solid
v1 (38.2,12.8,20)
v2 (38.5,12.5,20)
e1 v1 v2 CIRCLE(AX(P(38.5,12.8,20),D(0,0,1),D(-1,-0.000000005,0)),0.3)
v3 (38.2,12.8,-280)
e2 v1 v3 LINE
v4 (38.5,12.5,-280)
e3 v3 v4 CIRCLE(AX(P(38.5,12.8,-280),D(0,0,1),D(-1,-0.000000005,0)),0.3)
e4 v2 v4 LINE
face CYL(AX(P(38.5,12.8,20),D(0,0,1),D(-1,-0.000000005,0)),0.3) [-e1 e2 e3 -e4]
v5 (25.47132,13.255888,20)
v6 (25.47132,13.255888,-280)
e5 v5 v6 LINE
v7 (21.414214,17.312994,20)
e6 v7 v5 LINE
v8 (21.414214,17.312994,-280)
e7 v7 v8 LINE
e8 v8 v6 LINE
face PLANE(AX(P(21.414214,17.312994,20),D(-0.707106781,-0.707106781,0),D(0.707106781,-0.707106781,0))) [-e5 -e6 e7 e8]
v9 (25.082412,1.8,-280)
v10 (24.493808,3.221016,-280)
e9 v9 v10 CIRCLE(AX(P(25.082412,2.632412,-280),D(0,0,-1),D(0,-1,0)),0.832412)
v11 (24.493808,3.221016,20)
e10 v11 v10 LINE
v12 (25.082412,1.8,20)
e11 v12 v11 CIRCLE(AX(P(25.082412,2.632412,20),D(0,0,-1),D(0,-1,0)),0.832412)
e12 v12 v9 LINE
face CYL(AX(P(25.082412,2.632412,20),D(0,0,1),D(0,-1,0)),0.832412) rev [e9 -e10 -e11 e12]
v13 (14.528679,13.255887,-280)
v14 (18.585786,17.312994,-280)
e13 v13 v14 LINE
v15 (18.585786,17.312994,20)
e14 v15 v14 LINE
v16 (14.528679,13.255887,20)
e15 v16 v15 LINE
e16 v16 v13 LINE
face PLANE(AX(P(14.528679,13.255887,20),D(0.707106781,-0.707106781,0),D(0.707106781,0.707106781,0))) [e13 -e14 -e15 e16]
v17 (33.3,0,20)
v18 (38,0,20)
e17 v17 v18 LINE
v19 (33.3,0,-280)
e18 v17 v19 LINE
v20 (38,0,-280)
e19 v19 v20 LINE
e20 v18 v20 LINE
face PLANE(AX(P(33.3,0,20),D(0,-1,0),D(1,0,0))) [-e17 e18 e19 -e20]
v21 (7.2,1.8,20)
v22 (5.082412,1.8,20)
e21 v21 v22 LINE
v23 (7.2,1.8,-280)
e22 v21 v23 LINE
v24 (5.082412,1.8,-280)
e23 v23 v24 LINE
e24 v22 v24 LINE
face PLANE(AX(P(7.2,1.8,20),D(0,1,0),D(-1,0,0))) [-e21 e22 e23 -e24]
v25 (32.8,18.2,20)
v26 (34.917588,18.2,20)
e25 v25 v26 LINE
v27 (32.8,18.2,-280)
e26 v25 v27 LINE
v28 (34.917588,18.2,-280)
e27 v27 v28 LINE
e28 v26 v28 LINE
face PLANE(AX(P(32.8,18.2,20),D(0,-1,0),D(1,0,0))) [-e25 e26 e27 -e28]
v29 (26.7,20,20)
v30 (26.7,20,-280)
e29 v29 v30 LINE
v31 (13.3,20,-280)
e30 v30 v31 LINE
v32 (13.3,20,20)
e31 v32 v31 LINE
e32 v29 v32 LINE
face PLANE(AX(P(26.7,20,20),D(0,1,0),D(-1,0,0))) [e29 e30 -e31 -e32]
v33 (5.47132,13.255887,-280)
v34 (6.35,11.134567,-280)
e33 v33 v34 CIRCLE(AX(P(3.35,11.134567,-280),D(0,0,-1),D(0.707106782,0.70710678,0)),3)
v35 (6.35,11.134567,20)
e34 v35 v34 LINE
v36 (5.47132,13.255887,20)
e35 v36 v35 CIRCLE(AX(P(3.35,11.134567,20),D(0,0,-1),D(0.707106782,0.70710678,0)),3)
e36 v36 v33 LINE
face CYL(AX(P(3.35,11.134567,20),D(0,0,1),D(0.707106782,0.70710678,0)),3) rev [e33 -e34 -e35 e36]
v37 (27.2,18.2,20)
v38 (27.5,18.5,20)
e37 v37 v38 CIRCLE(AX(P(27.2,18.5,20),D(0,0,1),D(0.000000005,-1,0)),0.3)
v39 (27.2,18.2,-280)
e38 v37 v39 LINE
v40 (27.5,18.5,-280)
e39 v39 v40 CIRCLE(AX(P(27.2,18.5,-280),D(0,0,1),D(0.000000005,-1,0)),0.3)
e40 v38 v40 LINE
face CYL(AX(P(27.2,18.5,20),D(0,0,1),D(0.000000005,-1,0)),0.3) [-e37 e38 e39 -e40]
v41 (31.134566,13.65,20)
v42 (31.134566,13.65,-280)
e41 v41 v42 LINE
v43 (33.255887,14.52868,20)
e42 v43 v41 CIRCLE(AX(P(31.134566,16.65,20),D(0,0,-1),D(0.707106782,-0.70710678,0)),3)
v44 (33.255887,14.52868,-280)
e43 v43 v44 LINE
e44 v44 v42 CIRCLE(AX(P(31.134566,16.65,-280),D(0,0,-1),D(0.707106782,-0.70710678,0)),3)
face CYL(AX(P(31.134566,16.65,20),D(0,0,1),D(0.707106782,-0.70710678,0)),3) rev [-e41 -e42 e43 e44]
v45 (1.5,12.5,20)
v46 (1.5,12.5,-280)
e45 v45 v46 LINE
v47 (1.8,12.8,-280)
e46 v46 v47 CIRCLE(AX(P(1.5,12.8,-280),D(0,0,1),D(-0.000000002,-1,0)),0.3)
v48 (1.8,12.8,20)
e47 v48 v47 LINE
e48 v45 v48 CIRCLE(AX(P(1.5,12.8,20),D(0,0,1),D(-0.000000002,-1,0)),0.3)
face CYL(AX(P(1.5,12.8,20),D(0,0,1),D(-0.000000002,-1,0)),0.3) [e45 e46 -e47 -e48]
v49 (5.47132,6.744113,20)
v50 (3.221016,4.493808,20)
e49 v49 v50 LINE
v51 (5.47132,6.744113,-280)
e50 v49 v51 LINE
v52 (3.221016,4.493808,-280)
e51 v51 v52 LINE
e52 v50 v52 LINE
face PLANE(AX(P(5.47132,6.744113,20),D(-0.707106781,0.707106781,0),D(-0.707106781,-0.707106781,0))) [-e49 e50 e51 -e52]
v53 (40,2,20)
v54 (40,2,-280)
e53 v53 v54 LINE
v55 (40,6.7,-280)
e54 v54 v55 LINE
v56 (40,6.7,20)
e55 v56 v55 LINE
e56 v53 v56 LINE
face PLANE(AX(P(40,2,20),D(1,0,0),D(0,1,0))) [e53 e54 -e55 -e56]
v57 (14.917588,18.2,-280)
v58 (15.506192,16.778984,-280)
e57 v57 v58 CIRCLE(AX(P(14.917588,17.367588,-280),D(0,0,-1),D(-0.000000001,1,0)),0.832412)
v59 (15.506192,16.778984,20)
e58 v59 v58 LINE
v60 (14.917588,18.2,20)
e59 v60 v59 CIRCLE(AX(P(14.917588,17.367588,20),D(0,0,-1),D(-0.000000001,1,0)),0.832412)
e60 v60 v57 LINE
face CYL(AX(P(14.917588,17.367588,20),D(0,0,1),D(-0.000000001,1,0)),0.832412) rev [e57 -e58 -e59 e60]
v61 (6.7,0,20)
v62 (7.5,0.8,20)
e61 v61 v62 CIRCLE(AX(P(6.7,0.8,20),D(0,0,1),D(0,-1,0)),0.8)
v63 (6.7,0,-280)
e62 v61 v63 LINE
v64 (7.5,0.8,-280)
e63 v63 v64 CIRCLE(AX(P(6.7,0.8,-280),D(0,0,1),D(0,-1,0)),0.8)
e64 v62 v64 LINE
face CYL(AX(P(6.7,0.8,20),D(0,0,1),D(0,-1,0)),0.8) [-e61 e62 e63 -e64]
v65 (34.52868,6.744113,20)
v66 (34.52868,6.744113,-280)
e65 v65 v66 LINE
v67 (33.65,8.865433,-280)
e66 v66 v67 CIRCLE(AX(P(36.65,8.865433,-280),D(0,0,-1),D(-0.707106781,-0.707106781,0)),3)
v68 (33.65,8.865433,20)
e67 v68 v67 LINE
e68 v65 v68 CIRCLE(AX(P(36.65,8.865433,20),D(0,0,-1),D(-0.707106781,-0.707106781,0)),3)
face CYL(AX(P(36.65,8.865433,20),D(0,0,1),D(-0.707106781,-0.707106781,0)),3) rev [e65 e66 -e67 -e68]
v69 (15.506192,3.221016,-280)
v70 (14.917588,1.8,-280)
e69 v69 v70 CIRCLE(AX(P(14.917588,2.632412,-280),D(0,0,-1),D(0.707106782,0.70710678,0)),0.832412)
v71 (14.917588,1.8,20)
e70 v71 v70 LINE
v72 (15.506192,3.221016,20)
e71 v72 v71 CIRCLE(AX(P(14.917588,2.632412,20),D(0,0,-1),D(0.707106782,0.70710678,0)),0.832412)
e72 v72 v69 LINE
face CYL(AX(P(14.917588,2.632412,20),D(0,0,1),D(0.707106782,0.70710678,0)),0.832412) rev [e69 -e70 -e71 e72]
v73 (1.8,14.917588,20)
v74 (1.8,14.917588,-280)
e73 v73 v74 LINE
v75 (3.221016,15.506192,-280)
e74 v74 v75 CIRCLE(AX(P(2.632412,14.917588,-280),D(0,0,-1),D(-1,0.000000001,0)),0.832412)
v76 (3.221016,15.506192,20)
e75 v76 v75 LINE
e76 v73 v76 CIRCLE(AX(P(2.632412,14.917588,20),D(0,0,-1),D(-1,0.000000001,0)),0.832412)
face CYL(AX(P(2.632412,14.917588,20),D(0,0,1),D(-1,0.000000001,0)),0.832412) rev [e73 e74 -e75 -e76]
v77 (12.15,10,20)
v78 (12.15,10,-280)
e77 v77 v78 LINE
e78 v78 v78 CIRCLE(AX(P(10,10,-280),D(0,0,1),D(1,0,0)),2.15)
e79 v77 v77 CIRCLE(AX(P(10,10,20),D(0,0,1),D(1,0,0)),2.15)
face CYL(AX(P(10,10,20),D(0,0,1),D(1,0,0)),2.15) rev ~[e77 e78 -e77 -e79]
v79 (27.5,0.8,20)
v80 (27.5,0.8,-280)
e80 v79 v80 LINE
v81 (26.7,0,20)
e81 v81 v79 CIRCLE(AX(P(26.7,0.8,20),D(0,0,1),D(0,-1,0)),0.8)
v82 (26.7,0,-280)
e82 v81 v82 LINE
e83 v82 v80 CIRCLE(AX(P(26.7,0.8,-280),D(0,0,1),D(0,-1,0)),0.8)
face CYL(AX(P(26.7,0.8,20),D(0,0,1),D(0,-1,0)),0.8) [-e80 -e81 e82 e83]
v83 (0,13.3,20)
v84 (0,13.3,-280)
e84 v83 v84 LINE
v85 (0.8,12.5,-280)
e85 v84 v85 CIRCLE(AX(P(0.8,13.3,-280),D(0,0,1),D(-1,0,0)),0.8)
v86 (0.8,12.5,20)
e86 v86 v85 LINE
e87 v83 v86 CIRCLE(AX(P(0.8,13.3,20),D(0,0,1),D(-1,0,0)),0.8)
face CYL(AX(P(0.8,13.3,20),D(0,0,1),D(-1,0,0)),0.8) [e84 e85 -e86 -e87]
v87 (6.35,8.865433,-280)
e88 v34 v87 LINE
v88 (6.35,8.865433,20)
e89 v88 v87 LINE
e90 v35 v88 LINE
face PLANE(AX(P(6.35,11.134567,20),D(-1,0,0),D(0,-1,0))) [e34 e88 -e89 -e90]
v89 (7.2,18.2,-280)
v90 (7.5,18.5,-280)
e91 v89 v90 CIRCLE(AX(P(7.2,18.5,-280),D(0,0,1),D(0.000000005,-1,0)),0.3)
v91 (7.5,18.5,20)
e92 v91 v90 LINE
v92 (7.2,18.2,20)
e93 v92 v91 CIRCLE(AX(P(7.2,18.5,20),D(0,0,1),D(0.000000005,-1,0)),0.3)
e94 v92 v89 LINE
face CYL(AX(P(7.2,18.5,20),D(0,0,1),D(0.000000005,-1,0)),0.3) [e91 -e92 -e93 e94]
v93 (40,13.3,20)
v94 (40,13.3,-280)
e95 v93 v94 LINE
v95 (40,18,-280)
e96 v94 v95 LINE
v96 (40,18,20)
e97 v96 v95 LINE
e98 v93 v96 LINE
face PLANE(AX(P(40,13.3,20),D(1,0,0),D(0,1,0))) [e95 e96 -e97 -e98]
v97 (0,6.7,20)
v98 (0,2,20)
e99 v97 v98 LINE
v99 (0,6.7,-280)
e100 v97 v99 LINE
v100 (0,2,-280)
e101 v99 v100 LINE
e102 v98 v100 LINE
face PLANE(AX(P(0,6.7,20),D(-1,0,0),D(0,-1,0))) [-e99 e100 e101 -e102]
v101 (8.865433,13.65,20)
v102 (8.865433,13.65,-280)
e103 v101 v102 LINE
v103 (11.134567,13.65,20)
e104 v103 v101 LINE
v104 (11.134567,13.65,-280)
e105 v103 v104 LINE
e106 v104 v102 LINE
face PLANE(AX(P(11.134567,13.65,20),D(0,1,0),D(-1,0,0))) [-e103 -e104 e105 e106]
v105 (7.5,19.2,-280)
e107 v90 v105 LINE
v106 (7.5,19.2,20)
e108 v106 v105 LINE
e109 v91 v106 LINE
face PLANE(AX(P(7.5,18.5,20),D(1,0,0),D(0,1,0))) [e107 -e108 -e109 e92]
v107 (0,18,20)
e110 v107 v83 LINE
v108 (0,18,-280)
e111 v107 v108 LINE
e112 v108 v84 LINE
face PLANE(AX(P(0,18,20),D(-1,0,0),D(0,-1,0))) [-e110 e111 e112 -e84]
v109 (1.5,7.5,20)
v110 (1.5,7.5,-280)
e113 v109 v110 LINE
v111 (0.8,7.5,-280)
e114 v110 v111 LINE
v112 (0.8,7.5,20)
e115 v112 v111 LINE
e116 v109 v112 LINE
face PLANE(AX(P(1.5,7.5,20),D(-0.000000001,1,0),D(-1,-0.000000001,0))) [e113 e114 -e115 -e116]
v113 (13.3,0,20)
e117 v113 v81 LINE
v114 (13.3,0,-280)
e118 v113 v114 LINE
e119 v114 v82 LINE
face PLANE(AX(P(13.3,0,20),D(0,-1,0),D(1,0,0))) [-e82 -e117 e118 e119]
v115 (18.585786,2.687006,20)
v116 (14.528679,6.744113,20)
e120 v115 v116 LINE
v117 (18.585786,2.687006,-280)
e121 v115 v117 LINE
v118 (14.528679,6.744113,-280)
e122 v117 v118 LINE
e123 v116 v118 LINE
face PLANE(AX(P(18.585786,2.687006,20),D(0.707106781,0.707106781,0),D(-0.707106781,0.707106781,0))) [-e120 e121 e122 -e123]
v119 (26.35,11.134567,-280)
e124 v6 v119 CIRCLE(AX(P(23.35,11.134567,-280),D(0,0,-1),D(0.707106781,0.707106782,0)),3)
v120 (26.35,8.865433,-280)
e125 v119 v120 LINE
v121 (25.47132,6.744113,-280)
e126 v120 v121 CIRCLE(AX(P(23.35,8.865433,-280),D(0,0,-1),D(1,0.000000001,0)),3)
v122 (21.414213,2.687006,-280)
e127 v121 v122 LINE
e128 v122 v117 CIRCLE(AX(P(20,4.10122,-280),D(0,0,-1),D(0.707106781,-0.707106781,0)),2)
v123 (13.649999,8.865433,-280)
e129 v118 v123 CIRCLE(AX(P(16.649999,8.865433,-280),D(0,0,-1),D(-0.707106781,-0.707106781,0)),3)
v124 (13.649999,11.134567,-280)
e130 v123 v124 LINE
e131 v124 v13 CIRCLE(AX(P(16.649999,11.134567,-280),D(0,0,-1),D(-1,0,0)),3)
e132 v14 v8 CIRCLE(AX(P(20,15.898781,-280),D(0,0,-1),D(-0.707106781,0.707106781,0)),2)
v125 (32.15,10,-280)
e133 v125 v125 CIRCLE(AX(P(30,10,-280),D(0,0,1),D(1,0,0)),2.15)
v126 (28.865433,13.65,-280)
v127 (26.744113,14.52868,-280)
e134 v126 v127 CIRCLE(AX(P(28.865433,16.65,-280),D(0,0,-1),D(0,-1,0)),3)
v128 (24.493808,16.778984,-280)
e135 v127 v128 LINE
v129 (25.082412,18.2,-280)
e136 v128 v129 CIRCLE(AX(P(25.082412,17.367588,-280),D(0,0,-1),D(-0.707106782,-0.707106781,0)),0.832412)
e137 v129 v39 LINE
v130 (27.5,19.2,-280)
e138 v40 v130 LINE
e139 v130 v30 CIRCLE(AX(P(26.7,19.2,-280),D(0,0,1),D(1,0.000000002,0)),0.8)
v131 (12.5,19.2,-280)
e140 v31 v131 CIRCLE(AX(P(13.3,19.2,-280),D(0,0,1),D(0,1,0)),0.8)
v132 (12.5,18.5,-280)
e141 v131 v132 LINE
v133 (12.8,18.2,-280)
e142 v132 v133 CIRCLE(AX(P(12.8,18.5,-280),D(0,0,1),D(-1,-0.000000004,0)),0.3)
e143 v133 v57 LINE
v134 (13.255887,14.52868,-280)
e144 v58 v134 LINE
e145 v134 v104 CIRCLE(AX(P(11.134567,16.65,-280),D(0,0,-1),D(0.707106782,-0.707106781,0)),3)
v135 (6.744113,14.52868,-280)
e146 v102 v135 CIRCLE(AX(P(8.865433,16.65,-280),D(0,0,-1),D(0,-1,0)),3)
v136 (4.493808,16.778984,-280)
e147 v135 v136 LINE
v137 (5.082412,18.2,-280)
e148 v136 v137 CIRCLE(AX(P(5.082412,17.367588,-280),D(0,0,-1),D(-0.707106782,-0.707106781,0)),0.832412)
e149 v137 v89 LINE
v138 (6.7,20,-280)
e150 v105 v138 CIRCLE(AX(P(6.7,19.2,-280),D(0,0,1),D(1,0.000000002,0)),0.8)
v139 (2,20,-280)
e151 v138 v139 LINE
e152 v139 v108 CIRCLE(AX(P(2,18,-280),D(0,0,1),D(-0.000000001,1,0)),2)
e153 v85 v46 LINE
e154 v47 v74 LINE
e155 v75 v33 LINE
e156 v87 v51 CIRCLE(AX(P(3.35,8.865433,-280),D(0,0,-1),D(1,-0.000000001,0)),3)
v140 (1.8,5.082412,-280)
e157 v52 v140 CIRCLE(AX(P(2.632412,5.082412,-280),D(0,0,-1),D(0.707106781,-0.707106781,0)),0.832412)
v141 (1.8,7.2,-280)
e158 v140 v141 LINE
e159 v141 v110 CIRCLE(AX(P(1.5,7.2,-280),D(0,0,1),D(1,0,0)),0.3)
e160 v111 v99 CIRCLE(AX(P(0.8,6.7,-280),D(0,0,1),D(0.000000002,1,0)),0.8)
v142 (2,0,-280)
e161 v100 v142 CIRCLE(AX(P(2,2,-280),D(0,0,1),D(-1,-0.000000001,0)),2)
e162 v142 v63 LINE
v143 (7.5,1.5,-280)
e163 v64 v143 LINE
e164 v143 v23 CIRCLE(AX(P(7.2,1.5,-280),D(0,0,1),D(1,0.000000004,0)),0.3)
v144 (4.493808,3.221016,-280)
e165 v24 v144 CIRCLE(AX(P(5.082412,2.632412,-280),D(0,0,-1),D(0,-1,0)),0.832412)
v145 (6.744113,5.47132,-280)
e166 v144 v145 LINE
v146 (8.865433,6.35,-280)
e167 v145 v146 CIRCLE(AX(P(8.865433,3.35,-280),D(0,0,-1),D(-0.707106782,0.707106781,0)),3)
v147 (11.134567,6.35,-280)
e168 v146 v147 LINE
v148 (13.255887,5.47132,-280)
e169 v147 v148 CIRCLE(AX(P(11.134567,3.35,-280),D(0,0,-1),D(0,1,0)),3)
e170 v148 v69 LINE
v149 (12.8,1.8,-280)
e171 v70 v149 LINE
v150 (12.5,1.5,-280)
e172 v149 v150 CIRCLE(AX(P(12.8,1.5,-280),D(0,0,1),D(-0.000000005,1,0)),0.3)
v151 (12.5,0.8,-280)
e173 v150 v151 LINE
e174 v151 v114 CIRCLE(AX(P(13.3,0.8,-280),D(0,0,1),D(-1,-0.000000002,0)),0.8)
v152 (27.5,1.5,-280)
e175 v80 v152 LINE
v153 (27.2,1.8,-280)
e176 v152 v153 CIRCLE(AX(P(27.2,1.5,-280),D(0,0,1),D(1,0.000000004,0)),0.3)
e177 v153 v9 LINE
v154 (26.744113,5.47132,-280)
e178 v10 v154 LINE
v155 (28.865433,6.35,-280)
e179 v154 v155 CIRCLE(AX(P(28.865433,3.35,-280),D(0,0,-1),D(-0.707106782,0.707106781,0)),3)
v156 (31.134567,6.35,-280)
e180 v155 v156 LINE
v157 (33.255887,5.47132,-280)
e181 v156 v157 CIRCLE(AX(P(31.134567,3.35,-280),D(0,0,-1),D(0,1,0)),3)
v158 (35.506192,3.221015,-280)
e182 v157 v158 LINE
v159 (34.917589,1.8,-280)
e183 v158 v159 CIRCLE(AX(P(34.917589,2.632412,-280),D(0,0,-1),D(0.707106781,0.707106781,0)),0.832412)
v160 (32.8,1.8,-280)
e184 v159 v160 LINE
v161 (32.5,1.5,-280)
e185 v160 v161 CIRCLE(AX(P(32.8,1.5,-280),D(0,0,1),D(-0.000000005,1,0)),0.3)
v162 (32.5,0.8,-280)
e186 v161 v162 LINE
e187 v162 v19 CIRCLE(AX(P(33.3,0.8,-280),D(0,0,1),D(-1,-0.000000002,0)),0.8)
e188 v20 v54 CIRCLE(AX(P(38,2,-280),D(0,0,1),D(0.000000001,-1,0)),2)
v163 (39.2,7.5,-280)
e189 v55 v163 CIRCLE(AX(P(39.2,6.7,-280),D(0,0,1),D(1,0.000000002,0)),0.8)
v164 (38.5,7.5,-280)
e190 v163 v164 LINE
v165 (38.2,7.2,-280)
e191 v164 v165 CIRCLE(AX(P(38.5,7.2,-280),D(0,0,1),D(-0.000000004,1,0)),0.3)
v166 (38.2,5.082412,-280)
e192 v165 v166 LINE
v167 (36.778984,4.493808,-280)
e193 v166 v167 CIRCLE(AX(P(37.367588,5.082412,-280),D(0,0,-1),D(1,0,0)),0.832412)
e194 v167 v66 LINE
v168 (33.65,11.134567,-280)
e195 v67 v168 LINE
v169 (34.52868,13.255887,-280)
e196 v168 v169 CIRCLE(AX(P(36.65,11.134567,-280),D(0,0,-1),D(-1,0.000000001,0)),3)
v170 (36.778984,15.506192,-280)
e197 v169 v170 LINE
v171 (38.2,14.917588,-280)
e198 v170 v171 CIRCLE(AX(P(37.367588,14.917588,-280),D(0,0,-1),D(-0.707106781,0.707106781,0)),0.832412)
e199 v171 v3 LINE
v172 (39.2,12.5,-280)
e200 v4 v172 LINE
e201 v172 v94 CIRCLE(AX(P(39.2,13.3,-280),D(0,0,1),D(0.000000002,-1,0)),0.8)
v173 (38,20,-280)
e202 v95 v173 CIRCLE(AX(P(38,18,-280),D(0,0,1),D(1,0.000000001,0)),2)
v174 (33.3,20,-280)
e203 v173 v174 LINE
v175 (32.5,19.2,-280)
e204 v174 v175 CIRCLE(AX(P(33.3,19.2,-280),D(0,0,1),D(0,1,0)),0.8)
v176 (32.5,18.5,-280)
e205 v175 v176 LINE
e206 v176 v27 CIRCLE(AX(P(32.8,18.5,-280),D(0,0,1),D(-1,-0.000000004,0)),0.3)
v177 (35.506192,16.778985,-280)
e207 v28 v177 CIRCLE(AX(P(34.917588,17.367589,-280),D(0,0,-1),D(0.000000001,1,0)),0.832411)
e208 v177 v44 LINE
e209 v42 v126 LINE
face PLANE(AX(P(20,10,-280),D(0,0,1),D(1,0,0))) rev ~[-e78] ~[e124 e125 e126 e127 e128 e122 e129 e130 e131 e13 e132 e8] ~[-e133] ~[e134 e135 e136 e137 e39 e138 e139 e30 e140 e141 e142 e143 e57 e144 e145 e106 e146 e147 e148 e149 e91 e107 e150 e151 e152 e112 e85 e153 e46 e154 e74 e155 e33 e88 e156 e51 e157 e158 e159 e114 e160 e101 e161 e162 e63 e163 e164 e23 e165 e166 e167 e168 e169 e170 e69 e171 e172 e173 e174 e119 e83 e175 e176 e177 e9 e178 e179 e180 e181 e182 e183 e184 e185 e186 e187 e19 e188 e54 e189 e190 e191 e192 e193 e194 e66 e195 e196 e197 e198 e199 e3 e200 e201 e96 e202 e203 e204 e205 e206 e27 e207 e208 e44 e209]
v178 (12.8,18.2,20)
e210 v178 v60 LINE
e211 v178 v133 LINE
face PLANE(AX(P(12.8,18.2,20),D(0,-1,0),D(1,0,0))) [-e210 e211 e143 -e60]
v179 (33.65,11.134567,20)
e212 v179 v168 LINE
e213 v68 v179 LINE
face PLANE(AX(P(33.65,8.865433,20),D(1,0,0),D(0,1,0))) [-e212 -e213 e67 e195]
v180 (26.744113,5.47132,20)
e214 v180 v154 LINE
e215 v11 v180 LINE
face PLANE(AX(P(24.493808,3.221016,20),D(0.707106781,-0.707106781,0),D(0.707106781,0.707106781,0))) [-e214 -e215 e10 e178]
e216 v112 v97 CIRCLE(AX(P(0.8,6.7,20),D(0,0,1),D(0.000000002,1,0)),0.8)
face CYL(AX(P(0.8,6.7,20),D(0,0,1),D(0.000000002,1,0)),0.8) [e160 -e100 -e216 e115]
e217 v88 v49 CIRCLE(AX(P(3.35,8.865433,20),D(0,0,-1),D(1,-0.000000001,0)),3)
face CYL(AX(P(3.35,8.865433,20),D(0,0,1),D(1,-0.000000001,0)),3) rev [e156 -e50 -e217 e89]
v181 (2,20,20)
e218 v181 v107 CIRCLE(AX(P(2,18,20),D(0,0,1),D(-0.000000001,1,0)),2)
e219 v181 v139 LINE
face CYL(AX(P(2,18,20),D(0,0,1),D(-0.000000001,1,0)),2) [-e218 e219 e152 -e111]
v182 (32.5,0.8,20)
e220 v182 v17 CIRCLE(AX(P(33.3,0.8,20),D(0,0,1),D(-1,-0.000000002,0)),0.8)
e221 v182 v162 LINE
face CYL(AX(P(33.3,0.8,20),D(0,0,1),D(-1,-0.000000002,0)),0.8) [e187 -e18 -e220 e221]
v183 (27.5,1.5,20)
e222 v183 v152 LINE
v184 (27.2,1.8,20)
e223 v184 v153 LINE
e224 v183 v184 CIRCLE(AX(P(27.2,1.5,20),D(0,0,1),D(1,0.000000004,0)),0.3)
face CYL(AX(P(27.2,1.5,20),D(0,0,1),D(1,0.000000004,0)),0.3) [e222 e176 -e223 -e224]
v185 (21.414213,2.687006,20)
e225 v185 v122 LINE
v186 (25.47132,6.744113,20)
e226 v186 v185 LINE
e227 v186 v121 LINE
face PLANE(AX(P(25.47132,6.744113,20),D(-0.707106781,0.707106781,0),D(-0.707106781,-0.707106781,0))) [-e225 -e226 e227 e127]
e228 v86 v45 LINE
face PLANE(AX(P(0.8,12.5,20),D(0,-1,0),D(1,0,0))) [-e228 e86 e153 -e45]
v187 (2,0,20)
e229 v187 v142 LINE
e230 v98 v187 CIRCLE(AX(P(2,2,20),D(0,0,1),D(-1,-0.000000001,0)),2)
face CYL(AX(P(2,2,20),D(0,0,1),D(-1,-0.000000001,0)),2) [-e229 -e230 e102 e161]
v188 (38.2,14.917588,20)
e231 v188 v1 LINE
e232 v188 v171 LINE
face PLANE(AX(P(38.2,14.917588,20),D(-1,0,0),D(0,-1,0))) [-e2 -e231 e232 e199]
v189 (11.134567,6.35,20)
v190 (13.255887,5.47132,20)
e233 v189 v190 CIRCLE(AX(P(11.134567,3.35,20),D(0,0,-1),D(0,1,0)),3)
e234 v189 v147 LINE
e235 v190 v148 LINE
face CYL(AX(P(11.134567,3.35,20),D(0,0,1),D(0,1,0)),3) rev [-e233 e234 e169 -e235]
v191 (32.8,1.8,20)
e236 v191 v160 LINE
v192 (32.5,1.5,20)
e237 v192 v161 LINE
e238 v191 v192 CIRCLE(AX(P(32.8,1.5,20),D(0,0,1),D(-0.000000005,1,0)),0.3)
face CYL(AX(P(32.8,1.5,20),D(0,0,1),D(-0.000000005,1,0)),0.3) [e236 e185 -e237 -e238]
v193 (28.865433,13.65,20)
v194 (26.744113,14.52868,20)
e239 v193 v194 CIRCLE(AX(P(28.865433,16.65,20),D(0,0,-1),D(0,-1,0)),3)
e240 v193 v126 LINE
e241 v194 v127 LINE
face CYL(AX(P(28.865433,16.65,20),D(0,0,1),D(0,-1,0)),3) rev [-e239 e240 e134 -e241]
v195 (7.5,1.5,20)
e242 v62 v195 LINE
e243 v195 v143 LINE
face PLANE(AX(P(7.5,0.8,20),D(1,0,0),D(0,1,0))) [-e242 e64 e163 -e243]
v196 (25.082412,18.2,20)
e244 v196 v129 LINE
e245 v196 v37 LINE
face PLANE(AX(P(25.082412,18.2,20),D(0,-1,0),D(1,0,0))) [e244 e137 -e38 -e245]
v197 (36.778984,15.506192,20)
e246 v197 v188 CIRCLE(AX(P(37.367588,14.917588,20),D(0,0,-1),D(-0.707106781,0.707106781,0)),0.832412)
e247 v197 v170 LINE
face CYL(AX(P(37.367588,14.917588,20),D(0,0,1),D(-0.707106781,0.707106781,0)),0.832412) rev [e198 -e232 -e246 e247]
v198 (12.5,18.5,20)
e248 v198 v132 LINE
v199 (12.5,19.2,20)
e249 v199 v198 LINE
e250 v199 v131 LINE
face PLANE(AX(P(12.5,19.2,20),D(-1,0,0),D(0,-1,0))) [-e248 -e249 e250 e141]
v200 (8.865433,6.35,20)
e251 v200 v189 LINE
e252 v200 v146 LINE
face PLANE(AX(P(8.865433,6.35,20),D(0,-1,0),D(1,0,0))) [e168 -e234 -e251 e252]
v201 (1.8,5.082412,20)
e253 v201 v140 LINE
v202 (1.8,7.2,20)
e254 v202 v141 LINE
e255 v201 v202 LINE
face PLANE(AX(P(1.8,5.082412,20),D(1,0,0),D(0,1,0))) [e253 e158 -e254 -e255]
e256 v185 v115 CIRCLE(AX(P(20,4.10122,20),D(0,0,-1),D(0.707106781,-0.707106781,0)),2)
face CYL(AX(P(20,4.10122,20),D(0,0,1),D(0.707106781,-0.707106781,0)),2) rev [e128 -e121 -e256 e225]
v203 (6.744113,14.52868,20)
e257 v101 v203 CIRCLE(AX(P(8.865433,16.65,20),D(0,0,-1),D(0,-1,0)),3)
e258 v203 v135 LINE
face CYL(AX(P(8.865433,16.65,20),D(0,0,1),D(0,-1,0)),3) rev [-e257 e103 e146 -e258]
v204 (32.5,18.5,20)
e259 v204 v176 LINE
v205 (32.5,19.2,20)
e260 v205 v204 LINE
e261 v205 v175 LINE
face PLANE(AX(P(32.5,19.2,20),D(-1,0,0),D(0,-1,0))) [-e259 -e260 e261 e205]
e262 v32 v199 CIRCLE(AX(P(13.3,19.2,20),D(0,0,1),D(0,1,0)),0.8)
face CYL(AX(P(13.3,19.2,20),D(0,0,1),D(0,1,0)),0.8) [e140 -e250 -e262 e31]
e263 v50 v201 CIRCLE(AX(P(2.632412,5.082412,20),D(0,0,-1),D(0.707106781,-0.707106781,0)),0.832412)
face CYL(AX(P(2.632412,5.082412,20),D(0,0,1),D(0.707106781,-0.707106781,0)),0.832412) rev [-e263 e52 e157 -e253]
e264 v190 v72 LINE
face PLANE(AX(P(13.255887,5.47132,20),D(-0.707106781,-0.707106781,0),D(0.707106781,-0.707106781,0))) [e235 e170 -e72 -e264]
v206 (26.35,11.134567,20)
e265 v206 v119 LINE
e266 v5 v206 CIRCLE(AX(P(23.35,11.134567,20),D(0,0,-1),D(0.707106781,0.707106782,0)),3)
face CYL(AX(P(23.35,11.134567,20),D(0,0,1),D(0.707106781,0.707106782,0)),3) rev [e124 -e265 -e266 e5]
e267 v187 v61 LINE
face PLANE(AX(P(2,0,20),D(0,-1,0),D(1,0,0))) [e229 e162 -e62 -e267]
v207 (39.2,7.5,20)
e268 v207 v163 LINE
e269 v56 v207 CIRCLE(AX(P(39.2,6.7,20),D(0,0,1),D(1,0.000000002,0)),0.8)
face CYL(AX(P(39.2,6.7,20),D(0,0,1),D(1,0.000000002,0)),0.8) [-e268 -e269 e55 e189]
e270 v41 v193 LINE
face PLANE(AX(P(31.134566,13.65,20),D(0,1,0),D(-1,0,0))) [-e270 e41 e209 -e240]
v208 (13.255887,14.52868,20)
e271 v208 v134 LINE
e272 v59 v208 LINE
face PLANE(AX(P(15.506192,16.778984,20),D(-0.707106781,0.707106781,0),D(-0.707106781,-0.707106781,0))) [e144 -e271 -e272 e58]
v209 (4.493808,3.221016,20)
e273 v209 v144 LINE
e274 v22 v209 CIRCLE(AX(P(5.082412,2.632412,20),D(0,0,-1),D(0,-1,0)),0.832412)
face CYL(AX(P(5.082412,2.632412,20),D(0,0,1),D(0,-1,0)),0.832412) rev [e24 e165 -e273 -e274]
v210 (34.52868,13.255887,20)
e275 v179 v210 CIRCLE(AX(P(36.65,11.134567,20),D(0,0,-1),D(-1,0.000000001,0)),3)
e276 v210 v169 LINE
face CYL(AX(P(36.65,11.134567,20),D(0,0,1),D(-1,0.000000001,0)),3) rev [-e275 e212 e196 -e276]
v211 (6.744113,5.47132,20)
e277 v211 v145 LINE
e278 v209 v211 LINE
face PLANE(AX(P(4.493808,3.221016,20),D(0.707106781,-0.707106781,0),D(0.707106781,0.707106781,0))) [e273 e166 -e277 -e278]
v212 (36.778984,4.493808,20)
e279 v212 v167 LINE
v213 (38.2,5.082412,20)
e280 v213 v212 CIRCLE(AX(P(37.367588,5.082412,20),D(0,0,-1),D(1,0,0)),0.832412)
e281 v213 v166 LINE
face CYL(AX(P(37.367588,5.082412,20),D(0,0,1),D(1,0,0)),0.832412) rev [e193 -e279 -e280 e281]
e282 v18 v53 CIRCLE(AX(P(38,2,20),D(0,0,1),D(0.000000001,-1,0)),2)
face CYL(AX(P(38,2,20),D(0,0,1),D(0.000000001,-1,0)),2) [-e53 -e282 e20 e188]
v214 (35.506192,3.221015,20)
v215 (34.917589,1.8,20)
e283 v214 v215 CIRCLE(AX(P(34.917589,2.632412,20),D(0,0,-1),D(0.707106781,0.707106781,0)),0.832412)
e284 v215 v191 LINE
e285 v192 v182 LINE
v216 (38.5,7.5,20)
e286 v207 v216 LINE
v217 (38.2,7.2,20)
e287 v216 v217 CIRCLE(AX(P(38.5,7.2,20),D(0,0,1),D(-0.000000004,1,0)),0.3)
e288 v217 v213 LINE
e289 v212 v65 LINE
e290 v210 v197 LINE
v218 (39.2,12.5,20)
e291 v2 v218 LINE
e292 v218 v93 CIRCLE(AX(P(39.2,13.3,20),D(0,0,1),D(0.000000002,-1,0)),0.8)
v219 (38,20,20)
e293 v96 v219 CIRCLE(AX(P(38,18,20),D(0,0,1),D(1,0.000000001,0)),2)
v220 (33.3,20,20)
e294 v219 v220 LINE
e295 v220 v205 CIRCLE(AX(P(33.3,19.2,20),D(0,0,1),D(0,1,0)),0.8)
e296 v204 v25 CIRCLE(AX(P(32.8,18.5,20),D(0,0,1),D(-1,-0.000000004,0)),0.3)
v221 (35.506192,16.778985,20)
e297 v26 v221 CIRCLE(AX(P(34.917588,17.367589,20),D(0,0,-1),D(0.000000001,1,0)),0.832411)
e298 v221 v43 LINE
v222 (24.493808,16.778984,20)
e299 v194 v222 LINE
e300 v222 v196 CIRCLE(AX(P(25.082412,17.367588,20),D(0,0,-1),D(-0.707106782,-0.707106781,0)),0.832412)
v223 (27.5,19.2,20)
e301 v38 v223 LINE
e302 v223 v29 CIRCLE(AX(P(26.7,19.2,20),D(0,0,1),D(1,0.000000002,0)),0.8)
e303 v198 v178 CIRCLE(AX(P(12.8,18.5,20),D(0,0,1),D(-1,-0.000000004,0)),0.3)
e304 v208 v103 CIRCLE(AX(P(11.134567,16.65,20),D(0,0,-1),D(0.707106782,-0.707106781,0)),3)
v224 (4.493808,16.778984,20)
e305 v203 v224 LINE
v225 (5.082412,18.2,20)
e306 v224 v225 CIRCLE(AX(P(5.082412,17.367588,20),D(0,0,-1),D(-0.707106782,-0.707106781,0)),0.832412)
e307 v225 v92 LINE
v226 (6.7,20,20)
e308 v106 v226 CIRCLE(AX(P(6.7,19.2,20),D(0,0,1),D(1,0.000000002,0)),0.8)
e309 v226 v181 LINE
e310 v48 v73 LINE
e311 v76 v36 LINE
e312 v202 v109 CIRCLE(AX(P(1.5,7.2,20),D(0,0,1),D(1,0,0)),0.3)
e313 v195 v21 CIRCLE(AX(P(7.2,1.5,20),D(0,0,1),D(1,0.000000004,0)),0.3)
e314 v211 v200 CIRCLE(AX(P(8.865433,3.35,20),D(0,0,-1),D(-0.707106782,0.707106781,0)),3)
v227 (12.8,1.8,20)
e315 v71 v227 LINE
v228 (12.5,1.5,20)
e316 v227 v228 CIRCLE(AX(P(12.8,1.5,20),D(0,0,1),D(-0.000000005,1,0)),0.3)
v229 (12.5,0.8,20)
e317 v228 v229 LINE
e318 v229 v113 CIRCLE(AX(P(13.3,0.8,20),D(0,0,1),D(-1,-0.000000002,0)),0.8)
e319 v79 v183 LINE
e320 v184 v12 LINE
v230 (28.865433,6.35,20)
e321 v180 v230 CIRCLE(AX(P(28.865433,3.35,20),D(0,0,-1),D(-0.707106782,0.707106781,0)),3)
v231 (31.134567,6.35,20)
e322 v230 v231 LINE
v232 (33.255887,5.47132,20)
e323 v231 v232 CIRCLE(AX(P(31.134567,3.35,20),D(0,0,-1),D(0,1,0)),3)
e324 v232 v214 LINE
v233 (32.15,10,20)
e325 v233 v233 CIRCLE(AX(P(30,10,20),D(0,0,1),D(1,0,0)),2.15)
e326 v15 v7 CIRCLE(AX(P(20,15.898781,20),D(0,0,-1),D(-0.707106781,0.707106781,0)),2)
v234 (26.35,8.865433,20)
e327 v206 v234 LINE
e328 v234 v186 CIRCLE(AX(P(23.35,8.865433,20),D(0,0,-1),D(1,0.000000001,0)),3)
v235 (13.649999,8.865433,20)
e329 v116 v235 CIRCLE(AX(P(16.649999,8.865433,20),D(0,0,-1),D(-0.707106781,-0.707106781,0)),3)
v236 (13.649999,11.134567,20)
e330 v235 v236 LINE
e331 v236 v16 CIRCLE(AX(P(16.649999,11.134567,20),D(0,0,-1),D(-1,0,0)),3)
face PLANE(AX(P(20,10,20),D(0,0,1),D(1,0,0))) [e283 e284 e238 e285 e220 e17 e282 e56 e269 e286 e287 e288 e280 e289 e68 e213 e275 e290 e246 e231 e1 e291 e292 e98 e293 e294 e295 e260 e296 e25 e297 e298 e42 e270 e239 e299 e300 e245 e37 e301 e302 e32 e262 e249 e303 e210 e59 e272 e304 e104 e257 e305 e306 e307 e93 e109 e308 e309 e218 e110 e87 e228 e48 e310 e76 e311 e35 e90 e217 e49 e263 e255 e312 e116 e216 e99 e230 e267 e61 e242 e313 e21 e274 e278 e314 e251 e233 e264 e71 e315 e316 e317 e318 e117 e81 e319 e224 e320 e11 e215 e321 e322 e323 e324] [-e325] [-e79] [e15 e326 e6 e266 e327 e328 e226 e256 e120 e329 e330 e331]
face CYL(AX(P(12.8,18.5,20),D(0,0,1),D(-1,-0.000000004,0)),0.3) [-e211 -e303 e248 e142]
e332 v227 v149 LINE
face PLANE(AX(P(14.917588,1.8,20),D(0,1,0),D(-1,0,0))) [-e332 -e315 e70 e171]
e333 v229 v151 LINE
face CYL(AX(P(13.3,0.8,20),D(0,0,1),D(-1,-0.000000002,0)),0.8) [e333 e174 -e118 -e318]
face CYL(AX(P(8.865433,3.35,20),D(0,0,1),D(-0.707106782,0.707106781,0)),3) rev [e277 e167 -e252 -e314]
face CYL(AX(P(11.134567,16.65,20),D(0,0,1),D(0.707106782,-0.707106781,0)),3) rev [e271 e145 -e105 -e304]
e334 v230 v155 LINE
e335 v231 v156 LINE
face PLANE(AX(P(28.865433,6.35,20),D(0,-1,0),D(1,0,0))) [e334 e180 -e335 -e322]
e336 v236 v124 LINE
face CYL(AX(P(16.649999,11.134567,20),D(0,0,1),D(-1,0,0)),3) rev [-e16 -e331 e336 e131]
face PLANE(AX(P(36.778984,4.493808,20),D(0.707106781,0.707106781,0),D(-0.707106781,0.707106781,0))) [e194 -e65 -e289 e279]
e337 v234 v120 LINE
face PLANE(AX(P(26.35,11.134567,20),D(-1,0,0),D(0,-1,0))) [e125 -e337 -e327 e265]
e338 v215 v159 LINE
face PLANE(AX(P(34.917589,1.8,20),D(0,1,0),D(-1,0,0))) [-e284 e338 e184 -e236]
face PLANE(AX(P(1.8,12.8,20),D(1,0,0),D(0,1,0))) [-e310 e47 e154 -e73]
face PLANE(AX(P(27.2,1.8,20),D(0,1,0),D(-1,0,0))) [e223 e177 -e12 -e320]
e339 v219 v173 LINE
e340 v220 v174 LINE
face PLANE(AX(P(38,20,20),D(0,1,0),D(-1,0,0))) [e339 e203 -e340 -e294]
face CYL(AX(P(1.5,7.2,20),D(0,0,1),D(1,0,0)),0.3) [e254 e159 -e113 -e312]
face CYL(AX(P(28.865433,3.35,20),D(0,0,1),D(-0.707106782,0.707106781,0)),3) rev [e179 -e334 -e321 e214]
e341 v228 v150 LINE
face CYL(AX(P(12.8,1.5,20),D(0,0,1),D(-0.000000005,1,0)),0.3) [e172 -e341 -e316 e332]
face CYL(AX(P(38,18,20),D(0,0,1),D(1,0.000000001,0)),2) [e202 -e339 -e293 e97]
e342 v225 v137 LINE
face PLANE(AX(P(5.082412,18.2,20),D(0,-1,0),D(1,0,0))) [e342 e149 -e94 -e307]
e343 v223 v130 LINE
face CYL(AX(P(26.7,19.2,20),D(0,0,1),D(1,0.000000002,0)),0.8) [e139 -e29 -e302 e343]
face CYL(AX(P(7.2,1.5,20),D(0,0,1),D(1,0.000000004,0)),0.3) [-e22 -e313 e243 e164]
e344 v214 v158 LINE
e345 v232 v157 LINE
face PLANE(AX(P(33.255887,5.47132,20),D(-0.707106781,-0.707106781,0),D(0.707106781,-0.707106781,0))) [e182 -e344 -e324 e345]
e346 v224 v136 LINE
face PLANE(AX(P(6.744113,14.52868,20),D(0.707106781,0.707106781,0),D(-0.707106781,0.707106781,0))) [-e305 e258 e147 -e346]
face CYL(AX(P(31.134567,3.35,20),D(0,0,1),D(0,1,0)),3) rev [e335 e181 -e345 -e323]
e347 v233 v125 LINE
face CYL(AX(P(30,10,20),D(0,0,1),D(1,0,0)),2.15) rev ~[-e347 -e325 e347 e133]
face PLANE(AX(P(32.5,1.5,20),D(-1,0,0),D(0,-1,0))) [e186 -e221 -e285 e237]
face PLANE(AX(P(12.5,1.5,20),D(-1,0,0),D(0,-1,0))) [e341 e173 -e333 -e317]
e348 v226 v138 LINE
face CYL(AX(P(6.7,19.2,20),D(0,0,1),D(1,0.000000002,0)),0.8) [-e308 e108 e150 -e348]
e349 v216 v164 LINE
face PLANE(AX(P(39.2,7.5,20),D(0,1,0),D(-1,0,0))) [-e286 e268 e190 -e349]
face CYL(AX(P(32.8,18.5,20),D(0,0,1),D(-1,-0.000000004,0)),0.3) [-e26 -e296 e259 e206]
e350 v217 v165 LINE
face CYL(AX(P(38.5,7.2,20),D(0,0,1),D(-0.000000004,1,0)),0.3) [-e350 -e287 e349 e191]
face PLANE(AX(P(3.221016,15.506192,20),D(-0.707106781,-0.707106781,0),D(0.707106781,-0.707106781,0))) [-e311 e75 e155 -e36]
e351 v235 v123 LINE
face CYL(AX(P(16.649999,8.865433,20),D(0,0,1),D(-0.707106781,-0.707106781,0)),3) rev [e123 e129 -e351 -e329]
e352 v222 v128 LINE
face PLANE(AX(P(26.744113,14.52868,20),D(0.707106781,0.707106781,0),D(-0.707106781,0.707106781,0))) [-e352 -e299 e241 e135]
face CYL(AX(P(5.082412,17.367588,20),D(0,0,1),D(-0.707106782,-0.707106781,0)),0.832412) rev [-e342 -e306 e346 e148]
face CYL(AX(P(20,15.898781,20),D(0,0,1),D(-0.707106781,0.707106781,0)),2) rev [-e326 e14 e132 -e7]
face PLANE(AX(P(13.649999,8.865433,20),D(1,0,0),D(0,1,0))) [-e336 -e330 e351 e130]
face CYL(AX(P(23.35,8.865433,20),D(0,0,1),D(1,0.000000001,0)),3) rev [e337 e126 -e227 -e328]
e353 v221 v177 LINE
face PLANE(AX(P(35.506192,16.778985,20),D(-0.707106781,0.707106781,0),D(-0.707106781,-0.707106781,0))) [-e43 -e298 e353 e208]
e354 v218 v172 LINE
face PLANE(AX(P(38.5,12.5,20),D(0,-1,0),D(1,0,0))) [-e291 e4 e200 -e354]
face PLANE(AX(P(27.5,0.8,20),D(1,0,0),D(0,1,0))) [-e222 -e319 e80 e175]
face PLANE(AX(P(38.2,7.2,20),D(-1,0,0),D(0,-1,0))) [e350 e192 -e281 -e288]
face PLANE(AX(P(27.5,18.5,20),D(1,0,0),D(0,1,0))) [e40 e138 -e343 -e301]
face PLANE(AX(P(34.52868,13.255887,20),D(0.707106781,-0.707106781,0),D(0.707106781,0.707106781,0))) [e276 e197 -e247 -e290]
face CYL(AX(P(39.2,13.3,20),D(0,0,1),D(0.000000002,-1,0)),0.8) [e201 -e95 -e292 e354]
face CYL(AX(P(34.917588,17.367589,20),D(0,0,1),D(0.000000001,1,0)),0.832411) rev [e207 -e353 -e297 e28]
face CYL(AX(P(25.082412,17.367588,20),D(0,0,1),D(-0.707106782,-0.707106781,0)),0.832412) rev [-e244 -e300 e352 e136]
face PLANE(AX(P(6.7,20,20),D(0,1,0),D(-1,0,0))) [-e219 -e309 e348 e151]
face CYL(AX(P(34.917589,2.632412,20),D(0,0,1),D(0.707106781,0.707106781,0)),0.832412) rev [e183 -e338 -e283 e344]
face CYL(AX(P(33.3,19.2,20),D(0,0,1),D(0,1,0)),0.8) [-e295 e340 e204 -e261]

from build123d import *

# Parameters (mm, degrees)
SKIZZE1_R                       = 2.15
AUFSATZ_LINEAR_AUSTRAGEN1_DEPTH = 300


with BuildPart() as part:
    # Skizze1 → Aufsatz-Linear austragen1 (new body)
    with BuildSketch(Plane.XY.offset(20)):
        with BuildLine():
            Line((32.499999987, 1.499999997), (32.499999987, 0.800000002))
            ThreePointArc((32.499999987, 0.800000002), (32.734314563, 0.234314576), (33.29999999, 0))
            Line((33.29999999, 0), (38, 0))
            ThreePointArc((38, 0), (39.414213562, 0.585786438), (40, 2))
            Line((40, 2), (40, 6.700000003))
            ThreePointArc((40, 6.700000003), (39.765685425, 7.265685427), (39.2, 7.500000003))
            Line((39.2, 7.500000003), (38.499999994, 7.500000003))
            ThreePointArc((38.499999994, 7.500000003), (38.28786796, 7.412132037), (38.199999994, 7.200000003))
            Line((38.199999994, 7.200000003), (38.199999994, 5.082411608))
            ThreePointArc((38.199999994, 5.082411608), (37.686138516, 4.313363559), (36.77898449, 4.493807714))
            Line((36.77898449, 4.493807714), (34.52867965, 6.744112554))
            ThreePointArc((34.52867965, 6.744112554), (33.878361397, 7.717382599), (33.649999994, 8.865432896))
            Line((33.649999994, 8.865432896), (33.649999994, 11.134567107))
            ThreePointArc((33.649999994, 11.134567107), (33.878361397, 12.282617403), (34.52867965, 13.255887448))
            Line((34.52867965, 13.255887448), (36.778984494, 15.506192293))
            ThreePointArc((36.778984494, 15.506192293), (37.686138518, 15.686636447), (38.199999994, 14.9175884))
            Line((38.199999994, 14.9175884), (38.199999994, 12.800000003))
            ThreePointArc((38.199999994, 12.800000003), (38.287867961, 12.587867967), (38.499999997, 12.5))
            Line((38.499999997, 12.5), (39.199999998, 12.5))
            ThreePointArc((39.199999998, 12.5), (39.765685424, 12.734314576), (40, 13.300000002))
            Line((40, 13.300000002), (40, 18))
            ThreePointArc((40, 18), (39.414213562, 19.414213562), (38, 20))
            Line((38, 20), (33.299999987, 20))
            ThreePointArc((33.299999987, 20), (32.734314562, 19.765685425), (32.499999987, 19.2))
            Line((32.499999987, 19.2), (32.499999987, 18.499999997))
            ThreePointArc((32.499999987, 18.499999997), (32.587867953, 18.287867963), (32.799999987, 18.199999997))
            Line((32.799999987, 18.199999997), (34.917587987, 18.199999997))
            ThreePointArc((34.917587987, 18.199999997), (35.686635928, 17.686138591), (35.506191799, 16.778984692))
            Line((35.506191799, 16.778984692), (33.255886765, 14.528679659))
            ThreePointArc((33.255886765, 14.528679659), (32.28261672, 13.878361405), (31.134566423, 13.650000003))
            Line((31.134566423, 13.650000003), (28.865432887, 13.650000003))
            ThreePointArc((28.865432887, 13.650000003), (27.717382591, 13.878361405), (26.744112545, 14.528679659))
            Line((26.744112545, 14.528679659), (24.493807705, 16.778984499))
            ThreePointArc((24.493807705, 16.778984499), (24.313363551, 17.686138521), (25.082411597, 18.199999997))
            Line((25.082411597, 18.199999997), (27.199999997, 18.199999997))
            ThreePointArc((27.199999997, 18.199999997), (27.412132033, 18.287867964), (27.5, 18.5))
            Line((27.5, 18.5), (27.5, 19.199999998))
            ThreePointArc((27.5, 19.199999998), (27.265685424, 19.765685424), (26.699999998, 20))
            Line((26.699999998, 20), (13.299999987, 20))
            ThreePointArc((13.299999987, 20), (12.734314562, 19.765685425), (12.499999987, 19.2))
            Line((12.499999987, 19.2), (12.499999987, 18.499999997))
            ThreePointArc((12.499999987, 18.499999997), (12.587867953, 18.287867963), (12.799999987, 18.199999997))
            Line((12.799999987, 18.199999997), (14.917588393, 18.199999997))
            ThreePointArc((14.917588393, 18.199999997), (15.686636443, 17.686138519), (15.506192288, 16.778984492))
            Line((15.506192288, 16.778984492), (13.255887455, 14.528679659))
            ThreePointArc((13.255887455, 14.528679659), (12.282617409, 13.878361405), (11.134567113, 13.650000003))
            Line((11.134567113, 13.650000003), (8.865432887, 13.650000003))
            ThreePointArc((8.865432887, 13.650000003), (7.717382591, 13.878361405), (6.744112545, 14.528679659))
            Line((6.744112545, 14.528679659), (4.493807705, 16.778984499))
            ThreePointArc((4.493807705, 16.778984499), (4.313363551, 17.686138521), (5.082411597, 18.199999997))
            Line((5.082411597, 18.199999997), (7.199999997, 18.199999997))
            ThreePointArc((7.199999997, 18.199999997), (7.412132033, 18.287867964), (7.5, 18.5))
            Line((7.5, 18.5), (7.5, 19.199999998))
            ThreePointArc((7.5, 19.199999998), (7.265685424, 19.765685424), (6.699999997, 20))
            Line((6.699999997, 20), (2, 20))
            ThreePointArc((2, 20), (0.585786438, 19.414213562), (0, 18))
            Line((0, 18), (0, 13.3))
            ThreePointArc((0, 13.3), (0.234314575, 12.734314575), (0.8, 12.5))
            Line((0.8, 12.5), (1.500000005, 12.5))
            ThreePointArc((1.500000005, 12.5), (1.71213204, 12.587867966), (1.800000005, 12.8))
            Line((1.800000005, 12.8), (1.800000005, 14.91758839))
            ThreePointArc((1.800000005, 14.91758839), (2.313861483, 15.686636439), (3.22101551, 15.506192284))
            Line((3.22101551, 15.506192284), (5.471320344, 13.25588745))
            ThreePointArc((5.471320344, 13.25588745), (6.121638597, 12.282617404), (6.35, 11.134567108))
            Line((6.35, 11.134567108), (6.35, 8.86543289))
            ThreePointArc((6.35, 8.86543289), (6.121638597, 7.717382593), (5.471320344, 6.744112548))
            Line((5.471320344, 6.744112548), (3.221015504, 4.493807708))
            ThreePointArc((3.221015504, 4.493807708), (2.313861481, 4.313363554), (1.800000005, 5.0824116))
            Line((1.800000005, 5.0824116), (1.800000005, 7.2))
            ThreePointArc((1.800000005, 7.2), (1.712132039, 7.412132036), (1.500000003, 7.500000003))
            Line((1.500000003, 7.500000003), (0.800000003, 7.500000002))
            ThreePointArc((0.800000003, 7.500000002), (0.234314576, 7.265685427), (0, 6.7))
            Line((0, 6.7), (0, 2))
            ThreePointArc((0, 2), (0.585786438, 0.585786438), (2, 0))
            Line((2, 0), (6.7, 0))
            ThreePointArc((6.7, 0), (7.265685425, 0.234314575), (7.5, 0.8))
            Line((7.5, 0.8), (7.5, 1.5))
            ThreePointArc((7.5, 1.5), (7.412132034, 1.712132034), (7.2, 1.8))
            Line((7.2, 1.8), (5.0824116, 1.8))
            ThreePointArc((5.0824116, 1.8), (4.313363551, 2.313861478), (4.493807706, 3.221015504))
            Line((4.493807706, 3.221015504), (6.744112546, 5.471320344))
            ThreePointArc((6.744112546, 5.471320344), (7.717382592, 6.121638598), (8.865432888, 6.35))
            Line((8.865432888, 6.35), (11.134567107, 6.35))
            ThreePointArc((11.134567107, 6.35), (12.282617403, 6.121638598), (13.255887449, 5.471320344))
            Line((13.255887449, 5.471320344), (15.506192293, 3.2210155))
            ThreePointArc((15.506192293, 3.2210155), (15.686636447, 2.313861477), (14.9175884, 1.8))
            Line((14.9175884, 1.8), (12.79999999, 1.8))
            ThreePointArc((12.79999999, 1.8), (12.587867954, 1.712132033), (12.499999987, 1.499999997))
            Line((12.499999987, 1.499999997), (12.499999987, 0.800000002))
            ThreePointArc((12.499999987, 0.800000002), (12.734314563, 0.234314576), (13.29999999, 0))
            Line((13.29999999, 0), (26.7, 0))
            ThreePointArc((26.7, 0), (27.265685425, 0.234314575), (27.5, 0.8))
            Line((27.5, 0.8), (27.5, 1.5))
            ThreePointArc((27.5, 1.5), (27.412132034, 1.712132034), (27.2, 1.8))
            Line((27.2, 1.8), (25.0824116, 1.8))
            ThreePointArc((25.0824116, 1.8), (24.313363551, 2.313861478), (24.493807706, 3.221015504))
            Line((24.493807706, 3.221015504), (26.744112546, 5.471320344))
            ThreePointArc((26.744112546, 5.471320344), (27.717382592, 6.121638598), (28.865432888, 6.35))
            Line((28.865432888, 6.35), (31.134567114, 6.35))
            ThreePointArc((31.134567114, 6.35), (32.28261741, 6.121638598), (33.255887456, 5.471320344))
            Line((33.255887456, 5.471320344), (35.50619239, 3.22101541))
            ThreePointArc((35.50619239, 3.22101541), (35.686636533, 2.313861444), (34.917588535, 1.8))
            Line((34.917588535, 1.8), (32.79999999, 1.8))
            ThreePointArc((32.79999999, 1.8), (32.587867954, 1.712132033), (32.499999987, 1.499999997))
        make_face()
        with Locations((10, 10)):
            Circle(SKIZZE1_R, mode=Mode.SUBTRACT)
        with Locations((30, 10)):
            Circle(SKIZZE1_R, mode=Mode.SUBTRACT)
        with BuildLine():
            Line((18.585786095, 2.687006109), (14.528679095, 6.744113109))
            ThreePointArc((14.528679095, 6.744113109), (13.878360842, 7.717383154), (13.64999944, 8.86543345))
            Line((13.64999944, 8.86543345), (13.64999944, 11.134566552))
            ThreePointArc((13.64999944, 11.134566552), (13.878360842, 12.282616848), (14.528679095, 13.255886894))
            Line((14.528679095, 13.255886894), (18.585786441, 17.312994239))
            ThreePointArc((18.585786441, 17.312994239), (20.000000001, 17.898780676), (21.414213561, 17.312994239))
            Line((21.414213561, 17.312994239), (25.471320215, 13.255887585))
            ThreePointArc((25.471320215, 13.255887585), (26.121638469, 12.282617539), (26.349999871, 11.134567243))
            Line((26.349999871, 11.134567243), (26.349999871, 8.86543345))
            ThreePointArc((26.349999871, 8.86543345), (26.121638469, 7.717383154), (25.471320215, 6.744113109))
            Line((25.471320215, 6.744113109), (21.414213215, 2.687006109))
            ThreePointArc((21.414213215, 2.687006109), (19.999999655, 2.101219672), (18.585786095, 2.687006109))
        make_face(mode=Mode.SUBTRACT)
    extrude(amount=-AUFSATZ_LINEAR_AUSTRAGEN1_DEPTH)


solid = part.part
